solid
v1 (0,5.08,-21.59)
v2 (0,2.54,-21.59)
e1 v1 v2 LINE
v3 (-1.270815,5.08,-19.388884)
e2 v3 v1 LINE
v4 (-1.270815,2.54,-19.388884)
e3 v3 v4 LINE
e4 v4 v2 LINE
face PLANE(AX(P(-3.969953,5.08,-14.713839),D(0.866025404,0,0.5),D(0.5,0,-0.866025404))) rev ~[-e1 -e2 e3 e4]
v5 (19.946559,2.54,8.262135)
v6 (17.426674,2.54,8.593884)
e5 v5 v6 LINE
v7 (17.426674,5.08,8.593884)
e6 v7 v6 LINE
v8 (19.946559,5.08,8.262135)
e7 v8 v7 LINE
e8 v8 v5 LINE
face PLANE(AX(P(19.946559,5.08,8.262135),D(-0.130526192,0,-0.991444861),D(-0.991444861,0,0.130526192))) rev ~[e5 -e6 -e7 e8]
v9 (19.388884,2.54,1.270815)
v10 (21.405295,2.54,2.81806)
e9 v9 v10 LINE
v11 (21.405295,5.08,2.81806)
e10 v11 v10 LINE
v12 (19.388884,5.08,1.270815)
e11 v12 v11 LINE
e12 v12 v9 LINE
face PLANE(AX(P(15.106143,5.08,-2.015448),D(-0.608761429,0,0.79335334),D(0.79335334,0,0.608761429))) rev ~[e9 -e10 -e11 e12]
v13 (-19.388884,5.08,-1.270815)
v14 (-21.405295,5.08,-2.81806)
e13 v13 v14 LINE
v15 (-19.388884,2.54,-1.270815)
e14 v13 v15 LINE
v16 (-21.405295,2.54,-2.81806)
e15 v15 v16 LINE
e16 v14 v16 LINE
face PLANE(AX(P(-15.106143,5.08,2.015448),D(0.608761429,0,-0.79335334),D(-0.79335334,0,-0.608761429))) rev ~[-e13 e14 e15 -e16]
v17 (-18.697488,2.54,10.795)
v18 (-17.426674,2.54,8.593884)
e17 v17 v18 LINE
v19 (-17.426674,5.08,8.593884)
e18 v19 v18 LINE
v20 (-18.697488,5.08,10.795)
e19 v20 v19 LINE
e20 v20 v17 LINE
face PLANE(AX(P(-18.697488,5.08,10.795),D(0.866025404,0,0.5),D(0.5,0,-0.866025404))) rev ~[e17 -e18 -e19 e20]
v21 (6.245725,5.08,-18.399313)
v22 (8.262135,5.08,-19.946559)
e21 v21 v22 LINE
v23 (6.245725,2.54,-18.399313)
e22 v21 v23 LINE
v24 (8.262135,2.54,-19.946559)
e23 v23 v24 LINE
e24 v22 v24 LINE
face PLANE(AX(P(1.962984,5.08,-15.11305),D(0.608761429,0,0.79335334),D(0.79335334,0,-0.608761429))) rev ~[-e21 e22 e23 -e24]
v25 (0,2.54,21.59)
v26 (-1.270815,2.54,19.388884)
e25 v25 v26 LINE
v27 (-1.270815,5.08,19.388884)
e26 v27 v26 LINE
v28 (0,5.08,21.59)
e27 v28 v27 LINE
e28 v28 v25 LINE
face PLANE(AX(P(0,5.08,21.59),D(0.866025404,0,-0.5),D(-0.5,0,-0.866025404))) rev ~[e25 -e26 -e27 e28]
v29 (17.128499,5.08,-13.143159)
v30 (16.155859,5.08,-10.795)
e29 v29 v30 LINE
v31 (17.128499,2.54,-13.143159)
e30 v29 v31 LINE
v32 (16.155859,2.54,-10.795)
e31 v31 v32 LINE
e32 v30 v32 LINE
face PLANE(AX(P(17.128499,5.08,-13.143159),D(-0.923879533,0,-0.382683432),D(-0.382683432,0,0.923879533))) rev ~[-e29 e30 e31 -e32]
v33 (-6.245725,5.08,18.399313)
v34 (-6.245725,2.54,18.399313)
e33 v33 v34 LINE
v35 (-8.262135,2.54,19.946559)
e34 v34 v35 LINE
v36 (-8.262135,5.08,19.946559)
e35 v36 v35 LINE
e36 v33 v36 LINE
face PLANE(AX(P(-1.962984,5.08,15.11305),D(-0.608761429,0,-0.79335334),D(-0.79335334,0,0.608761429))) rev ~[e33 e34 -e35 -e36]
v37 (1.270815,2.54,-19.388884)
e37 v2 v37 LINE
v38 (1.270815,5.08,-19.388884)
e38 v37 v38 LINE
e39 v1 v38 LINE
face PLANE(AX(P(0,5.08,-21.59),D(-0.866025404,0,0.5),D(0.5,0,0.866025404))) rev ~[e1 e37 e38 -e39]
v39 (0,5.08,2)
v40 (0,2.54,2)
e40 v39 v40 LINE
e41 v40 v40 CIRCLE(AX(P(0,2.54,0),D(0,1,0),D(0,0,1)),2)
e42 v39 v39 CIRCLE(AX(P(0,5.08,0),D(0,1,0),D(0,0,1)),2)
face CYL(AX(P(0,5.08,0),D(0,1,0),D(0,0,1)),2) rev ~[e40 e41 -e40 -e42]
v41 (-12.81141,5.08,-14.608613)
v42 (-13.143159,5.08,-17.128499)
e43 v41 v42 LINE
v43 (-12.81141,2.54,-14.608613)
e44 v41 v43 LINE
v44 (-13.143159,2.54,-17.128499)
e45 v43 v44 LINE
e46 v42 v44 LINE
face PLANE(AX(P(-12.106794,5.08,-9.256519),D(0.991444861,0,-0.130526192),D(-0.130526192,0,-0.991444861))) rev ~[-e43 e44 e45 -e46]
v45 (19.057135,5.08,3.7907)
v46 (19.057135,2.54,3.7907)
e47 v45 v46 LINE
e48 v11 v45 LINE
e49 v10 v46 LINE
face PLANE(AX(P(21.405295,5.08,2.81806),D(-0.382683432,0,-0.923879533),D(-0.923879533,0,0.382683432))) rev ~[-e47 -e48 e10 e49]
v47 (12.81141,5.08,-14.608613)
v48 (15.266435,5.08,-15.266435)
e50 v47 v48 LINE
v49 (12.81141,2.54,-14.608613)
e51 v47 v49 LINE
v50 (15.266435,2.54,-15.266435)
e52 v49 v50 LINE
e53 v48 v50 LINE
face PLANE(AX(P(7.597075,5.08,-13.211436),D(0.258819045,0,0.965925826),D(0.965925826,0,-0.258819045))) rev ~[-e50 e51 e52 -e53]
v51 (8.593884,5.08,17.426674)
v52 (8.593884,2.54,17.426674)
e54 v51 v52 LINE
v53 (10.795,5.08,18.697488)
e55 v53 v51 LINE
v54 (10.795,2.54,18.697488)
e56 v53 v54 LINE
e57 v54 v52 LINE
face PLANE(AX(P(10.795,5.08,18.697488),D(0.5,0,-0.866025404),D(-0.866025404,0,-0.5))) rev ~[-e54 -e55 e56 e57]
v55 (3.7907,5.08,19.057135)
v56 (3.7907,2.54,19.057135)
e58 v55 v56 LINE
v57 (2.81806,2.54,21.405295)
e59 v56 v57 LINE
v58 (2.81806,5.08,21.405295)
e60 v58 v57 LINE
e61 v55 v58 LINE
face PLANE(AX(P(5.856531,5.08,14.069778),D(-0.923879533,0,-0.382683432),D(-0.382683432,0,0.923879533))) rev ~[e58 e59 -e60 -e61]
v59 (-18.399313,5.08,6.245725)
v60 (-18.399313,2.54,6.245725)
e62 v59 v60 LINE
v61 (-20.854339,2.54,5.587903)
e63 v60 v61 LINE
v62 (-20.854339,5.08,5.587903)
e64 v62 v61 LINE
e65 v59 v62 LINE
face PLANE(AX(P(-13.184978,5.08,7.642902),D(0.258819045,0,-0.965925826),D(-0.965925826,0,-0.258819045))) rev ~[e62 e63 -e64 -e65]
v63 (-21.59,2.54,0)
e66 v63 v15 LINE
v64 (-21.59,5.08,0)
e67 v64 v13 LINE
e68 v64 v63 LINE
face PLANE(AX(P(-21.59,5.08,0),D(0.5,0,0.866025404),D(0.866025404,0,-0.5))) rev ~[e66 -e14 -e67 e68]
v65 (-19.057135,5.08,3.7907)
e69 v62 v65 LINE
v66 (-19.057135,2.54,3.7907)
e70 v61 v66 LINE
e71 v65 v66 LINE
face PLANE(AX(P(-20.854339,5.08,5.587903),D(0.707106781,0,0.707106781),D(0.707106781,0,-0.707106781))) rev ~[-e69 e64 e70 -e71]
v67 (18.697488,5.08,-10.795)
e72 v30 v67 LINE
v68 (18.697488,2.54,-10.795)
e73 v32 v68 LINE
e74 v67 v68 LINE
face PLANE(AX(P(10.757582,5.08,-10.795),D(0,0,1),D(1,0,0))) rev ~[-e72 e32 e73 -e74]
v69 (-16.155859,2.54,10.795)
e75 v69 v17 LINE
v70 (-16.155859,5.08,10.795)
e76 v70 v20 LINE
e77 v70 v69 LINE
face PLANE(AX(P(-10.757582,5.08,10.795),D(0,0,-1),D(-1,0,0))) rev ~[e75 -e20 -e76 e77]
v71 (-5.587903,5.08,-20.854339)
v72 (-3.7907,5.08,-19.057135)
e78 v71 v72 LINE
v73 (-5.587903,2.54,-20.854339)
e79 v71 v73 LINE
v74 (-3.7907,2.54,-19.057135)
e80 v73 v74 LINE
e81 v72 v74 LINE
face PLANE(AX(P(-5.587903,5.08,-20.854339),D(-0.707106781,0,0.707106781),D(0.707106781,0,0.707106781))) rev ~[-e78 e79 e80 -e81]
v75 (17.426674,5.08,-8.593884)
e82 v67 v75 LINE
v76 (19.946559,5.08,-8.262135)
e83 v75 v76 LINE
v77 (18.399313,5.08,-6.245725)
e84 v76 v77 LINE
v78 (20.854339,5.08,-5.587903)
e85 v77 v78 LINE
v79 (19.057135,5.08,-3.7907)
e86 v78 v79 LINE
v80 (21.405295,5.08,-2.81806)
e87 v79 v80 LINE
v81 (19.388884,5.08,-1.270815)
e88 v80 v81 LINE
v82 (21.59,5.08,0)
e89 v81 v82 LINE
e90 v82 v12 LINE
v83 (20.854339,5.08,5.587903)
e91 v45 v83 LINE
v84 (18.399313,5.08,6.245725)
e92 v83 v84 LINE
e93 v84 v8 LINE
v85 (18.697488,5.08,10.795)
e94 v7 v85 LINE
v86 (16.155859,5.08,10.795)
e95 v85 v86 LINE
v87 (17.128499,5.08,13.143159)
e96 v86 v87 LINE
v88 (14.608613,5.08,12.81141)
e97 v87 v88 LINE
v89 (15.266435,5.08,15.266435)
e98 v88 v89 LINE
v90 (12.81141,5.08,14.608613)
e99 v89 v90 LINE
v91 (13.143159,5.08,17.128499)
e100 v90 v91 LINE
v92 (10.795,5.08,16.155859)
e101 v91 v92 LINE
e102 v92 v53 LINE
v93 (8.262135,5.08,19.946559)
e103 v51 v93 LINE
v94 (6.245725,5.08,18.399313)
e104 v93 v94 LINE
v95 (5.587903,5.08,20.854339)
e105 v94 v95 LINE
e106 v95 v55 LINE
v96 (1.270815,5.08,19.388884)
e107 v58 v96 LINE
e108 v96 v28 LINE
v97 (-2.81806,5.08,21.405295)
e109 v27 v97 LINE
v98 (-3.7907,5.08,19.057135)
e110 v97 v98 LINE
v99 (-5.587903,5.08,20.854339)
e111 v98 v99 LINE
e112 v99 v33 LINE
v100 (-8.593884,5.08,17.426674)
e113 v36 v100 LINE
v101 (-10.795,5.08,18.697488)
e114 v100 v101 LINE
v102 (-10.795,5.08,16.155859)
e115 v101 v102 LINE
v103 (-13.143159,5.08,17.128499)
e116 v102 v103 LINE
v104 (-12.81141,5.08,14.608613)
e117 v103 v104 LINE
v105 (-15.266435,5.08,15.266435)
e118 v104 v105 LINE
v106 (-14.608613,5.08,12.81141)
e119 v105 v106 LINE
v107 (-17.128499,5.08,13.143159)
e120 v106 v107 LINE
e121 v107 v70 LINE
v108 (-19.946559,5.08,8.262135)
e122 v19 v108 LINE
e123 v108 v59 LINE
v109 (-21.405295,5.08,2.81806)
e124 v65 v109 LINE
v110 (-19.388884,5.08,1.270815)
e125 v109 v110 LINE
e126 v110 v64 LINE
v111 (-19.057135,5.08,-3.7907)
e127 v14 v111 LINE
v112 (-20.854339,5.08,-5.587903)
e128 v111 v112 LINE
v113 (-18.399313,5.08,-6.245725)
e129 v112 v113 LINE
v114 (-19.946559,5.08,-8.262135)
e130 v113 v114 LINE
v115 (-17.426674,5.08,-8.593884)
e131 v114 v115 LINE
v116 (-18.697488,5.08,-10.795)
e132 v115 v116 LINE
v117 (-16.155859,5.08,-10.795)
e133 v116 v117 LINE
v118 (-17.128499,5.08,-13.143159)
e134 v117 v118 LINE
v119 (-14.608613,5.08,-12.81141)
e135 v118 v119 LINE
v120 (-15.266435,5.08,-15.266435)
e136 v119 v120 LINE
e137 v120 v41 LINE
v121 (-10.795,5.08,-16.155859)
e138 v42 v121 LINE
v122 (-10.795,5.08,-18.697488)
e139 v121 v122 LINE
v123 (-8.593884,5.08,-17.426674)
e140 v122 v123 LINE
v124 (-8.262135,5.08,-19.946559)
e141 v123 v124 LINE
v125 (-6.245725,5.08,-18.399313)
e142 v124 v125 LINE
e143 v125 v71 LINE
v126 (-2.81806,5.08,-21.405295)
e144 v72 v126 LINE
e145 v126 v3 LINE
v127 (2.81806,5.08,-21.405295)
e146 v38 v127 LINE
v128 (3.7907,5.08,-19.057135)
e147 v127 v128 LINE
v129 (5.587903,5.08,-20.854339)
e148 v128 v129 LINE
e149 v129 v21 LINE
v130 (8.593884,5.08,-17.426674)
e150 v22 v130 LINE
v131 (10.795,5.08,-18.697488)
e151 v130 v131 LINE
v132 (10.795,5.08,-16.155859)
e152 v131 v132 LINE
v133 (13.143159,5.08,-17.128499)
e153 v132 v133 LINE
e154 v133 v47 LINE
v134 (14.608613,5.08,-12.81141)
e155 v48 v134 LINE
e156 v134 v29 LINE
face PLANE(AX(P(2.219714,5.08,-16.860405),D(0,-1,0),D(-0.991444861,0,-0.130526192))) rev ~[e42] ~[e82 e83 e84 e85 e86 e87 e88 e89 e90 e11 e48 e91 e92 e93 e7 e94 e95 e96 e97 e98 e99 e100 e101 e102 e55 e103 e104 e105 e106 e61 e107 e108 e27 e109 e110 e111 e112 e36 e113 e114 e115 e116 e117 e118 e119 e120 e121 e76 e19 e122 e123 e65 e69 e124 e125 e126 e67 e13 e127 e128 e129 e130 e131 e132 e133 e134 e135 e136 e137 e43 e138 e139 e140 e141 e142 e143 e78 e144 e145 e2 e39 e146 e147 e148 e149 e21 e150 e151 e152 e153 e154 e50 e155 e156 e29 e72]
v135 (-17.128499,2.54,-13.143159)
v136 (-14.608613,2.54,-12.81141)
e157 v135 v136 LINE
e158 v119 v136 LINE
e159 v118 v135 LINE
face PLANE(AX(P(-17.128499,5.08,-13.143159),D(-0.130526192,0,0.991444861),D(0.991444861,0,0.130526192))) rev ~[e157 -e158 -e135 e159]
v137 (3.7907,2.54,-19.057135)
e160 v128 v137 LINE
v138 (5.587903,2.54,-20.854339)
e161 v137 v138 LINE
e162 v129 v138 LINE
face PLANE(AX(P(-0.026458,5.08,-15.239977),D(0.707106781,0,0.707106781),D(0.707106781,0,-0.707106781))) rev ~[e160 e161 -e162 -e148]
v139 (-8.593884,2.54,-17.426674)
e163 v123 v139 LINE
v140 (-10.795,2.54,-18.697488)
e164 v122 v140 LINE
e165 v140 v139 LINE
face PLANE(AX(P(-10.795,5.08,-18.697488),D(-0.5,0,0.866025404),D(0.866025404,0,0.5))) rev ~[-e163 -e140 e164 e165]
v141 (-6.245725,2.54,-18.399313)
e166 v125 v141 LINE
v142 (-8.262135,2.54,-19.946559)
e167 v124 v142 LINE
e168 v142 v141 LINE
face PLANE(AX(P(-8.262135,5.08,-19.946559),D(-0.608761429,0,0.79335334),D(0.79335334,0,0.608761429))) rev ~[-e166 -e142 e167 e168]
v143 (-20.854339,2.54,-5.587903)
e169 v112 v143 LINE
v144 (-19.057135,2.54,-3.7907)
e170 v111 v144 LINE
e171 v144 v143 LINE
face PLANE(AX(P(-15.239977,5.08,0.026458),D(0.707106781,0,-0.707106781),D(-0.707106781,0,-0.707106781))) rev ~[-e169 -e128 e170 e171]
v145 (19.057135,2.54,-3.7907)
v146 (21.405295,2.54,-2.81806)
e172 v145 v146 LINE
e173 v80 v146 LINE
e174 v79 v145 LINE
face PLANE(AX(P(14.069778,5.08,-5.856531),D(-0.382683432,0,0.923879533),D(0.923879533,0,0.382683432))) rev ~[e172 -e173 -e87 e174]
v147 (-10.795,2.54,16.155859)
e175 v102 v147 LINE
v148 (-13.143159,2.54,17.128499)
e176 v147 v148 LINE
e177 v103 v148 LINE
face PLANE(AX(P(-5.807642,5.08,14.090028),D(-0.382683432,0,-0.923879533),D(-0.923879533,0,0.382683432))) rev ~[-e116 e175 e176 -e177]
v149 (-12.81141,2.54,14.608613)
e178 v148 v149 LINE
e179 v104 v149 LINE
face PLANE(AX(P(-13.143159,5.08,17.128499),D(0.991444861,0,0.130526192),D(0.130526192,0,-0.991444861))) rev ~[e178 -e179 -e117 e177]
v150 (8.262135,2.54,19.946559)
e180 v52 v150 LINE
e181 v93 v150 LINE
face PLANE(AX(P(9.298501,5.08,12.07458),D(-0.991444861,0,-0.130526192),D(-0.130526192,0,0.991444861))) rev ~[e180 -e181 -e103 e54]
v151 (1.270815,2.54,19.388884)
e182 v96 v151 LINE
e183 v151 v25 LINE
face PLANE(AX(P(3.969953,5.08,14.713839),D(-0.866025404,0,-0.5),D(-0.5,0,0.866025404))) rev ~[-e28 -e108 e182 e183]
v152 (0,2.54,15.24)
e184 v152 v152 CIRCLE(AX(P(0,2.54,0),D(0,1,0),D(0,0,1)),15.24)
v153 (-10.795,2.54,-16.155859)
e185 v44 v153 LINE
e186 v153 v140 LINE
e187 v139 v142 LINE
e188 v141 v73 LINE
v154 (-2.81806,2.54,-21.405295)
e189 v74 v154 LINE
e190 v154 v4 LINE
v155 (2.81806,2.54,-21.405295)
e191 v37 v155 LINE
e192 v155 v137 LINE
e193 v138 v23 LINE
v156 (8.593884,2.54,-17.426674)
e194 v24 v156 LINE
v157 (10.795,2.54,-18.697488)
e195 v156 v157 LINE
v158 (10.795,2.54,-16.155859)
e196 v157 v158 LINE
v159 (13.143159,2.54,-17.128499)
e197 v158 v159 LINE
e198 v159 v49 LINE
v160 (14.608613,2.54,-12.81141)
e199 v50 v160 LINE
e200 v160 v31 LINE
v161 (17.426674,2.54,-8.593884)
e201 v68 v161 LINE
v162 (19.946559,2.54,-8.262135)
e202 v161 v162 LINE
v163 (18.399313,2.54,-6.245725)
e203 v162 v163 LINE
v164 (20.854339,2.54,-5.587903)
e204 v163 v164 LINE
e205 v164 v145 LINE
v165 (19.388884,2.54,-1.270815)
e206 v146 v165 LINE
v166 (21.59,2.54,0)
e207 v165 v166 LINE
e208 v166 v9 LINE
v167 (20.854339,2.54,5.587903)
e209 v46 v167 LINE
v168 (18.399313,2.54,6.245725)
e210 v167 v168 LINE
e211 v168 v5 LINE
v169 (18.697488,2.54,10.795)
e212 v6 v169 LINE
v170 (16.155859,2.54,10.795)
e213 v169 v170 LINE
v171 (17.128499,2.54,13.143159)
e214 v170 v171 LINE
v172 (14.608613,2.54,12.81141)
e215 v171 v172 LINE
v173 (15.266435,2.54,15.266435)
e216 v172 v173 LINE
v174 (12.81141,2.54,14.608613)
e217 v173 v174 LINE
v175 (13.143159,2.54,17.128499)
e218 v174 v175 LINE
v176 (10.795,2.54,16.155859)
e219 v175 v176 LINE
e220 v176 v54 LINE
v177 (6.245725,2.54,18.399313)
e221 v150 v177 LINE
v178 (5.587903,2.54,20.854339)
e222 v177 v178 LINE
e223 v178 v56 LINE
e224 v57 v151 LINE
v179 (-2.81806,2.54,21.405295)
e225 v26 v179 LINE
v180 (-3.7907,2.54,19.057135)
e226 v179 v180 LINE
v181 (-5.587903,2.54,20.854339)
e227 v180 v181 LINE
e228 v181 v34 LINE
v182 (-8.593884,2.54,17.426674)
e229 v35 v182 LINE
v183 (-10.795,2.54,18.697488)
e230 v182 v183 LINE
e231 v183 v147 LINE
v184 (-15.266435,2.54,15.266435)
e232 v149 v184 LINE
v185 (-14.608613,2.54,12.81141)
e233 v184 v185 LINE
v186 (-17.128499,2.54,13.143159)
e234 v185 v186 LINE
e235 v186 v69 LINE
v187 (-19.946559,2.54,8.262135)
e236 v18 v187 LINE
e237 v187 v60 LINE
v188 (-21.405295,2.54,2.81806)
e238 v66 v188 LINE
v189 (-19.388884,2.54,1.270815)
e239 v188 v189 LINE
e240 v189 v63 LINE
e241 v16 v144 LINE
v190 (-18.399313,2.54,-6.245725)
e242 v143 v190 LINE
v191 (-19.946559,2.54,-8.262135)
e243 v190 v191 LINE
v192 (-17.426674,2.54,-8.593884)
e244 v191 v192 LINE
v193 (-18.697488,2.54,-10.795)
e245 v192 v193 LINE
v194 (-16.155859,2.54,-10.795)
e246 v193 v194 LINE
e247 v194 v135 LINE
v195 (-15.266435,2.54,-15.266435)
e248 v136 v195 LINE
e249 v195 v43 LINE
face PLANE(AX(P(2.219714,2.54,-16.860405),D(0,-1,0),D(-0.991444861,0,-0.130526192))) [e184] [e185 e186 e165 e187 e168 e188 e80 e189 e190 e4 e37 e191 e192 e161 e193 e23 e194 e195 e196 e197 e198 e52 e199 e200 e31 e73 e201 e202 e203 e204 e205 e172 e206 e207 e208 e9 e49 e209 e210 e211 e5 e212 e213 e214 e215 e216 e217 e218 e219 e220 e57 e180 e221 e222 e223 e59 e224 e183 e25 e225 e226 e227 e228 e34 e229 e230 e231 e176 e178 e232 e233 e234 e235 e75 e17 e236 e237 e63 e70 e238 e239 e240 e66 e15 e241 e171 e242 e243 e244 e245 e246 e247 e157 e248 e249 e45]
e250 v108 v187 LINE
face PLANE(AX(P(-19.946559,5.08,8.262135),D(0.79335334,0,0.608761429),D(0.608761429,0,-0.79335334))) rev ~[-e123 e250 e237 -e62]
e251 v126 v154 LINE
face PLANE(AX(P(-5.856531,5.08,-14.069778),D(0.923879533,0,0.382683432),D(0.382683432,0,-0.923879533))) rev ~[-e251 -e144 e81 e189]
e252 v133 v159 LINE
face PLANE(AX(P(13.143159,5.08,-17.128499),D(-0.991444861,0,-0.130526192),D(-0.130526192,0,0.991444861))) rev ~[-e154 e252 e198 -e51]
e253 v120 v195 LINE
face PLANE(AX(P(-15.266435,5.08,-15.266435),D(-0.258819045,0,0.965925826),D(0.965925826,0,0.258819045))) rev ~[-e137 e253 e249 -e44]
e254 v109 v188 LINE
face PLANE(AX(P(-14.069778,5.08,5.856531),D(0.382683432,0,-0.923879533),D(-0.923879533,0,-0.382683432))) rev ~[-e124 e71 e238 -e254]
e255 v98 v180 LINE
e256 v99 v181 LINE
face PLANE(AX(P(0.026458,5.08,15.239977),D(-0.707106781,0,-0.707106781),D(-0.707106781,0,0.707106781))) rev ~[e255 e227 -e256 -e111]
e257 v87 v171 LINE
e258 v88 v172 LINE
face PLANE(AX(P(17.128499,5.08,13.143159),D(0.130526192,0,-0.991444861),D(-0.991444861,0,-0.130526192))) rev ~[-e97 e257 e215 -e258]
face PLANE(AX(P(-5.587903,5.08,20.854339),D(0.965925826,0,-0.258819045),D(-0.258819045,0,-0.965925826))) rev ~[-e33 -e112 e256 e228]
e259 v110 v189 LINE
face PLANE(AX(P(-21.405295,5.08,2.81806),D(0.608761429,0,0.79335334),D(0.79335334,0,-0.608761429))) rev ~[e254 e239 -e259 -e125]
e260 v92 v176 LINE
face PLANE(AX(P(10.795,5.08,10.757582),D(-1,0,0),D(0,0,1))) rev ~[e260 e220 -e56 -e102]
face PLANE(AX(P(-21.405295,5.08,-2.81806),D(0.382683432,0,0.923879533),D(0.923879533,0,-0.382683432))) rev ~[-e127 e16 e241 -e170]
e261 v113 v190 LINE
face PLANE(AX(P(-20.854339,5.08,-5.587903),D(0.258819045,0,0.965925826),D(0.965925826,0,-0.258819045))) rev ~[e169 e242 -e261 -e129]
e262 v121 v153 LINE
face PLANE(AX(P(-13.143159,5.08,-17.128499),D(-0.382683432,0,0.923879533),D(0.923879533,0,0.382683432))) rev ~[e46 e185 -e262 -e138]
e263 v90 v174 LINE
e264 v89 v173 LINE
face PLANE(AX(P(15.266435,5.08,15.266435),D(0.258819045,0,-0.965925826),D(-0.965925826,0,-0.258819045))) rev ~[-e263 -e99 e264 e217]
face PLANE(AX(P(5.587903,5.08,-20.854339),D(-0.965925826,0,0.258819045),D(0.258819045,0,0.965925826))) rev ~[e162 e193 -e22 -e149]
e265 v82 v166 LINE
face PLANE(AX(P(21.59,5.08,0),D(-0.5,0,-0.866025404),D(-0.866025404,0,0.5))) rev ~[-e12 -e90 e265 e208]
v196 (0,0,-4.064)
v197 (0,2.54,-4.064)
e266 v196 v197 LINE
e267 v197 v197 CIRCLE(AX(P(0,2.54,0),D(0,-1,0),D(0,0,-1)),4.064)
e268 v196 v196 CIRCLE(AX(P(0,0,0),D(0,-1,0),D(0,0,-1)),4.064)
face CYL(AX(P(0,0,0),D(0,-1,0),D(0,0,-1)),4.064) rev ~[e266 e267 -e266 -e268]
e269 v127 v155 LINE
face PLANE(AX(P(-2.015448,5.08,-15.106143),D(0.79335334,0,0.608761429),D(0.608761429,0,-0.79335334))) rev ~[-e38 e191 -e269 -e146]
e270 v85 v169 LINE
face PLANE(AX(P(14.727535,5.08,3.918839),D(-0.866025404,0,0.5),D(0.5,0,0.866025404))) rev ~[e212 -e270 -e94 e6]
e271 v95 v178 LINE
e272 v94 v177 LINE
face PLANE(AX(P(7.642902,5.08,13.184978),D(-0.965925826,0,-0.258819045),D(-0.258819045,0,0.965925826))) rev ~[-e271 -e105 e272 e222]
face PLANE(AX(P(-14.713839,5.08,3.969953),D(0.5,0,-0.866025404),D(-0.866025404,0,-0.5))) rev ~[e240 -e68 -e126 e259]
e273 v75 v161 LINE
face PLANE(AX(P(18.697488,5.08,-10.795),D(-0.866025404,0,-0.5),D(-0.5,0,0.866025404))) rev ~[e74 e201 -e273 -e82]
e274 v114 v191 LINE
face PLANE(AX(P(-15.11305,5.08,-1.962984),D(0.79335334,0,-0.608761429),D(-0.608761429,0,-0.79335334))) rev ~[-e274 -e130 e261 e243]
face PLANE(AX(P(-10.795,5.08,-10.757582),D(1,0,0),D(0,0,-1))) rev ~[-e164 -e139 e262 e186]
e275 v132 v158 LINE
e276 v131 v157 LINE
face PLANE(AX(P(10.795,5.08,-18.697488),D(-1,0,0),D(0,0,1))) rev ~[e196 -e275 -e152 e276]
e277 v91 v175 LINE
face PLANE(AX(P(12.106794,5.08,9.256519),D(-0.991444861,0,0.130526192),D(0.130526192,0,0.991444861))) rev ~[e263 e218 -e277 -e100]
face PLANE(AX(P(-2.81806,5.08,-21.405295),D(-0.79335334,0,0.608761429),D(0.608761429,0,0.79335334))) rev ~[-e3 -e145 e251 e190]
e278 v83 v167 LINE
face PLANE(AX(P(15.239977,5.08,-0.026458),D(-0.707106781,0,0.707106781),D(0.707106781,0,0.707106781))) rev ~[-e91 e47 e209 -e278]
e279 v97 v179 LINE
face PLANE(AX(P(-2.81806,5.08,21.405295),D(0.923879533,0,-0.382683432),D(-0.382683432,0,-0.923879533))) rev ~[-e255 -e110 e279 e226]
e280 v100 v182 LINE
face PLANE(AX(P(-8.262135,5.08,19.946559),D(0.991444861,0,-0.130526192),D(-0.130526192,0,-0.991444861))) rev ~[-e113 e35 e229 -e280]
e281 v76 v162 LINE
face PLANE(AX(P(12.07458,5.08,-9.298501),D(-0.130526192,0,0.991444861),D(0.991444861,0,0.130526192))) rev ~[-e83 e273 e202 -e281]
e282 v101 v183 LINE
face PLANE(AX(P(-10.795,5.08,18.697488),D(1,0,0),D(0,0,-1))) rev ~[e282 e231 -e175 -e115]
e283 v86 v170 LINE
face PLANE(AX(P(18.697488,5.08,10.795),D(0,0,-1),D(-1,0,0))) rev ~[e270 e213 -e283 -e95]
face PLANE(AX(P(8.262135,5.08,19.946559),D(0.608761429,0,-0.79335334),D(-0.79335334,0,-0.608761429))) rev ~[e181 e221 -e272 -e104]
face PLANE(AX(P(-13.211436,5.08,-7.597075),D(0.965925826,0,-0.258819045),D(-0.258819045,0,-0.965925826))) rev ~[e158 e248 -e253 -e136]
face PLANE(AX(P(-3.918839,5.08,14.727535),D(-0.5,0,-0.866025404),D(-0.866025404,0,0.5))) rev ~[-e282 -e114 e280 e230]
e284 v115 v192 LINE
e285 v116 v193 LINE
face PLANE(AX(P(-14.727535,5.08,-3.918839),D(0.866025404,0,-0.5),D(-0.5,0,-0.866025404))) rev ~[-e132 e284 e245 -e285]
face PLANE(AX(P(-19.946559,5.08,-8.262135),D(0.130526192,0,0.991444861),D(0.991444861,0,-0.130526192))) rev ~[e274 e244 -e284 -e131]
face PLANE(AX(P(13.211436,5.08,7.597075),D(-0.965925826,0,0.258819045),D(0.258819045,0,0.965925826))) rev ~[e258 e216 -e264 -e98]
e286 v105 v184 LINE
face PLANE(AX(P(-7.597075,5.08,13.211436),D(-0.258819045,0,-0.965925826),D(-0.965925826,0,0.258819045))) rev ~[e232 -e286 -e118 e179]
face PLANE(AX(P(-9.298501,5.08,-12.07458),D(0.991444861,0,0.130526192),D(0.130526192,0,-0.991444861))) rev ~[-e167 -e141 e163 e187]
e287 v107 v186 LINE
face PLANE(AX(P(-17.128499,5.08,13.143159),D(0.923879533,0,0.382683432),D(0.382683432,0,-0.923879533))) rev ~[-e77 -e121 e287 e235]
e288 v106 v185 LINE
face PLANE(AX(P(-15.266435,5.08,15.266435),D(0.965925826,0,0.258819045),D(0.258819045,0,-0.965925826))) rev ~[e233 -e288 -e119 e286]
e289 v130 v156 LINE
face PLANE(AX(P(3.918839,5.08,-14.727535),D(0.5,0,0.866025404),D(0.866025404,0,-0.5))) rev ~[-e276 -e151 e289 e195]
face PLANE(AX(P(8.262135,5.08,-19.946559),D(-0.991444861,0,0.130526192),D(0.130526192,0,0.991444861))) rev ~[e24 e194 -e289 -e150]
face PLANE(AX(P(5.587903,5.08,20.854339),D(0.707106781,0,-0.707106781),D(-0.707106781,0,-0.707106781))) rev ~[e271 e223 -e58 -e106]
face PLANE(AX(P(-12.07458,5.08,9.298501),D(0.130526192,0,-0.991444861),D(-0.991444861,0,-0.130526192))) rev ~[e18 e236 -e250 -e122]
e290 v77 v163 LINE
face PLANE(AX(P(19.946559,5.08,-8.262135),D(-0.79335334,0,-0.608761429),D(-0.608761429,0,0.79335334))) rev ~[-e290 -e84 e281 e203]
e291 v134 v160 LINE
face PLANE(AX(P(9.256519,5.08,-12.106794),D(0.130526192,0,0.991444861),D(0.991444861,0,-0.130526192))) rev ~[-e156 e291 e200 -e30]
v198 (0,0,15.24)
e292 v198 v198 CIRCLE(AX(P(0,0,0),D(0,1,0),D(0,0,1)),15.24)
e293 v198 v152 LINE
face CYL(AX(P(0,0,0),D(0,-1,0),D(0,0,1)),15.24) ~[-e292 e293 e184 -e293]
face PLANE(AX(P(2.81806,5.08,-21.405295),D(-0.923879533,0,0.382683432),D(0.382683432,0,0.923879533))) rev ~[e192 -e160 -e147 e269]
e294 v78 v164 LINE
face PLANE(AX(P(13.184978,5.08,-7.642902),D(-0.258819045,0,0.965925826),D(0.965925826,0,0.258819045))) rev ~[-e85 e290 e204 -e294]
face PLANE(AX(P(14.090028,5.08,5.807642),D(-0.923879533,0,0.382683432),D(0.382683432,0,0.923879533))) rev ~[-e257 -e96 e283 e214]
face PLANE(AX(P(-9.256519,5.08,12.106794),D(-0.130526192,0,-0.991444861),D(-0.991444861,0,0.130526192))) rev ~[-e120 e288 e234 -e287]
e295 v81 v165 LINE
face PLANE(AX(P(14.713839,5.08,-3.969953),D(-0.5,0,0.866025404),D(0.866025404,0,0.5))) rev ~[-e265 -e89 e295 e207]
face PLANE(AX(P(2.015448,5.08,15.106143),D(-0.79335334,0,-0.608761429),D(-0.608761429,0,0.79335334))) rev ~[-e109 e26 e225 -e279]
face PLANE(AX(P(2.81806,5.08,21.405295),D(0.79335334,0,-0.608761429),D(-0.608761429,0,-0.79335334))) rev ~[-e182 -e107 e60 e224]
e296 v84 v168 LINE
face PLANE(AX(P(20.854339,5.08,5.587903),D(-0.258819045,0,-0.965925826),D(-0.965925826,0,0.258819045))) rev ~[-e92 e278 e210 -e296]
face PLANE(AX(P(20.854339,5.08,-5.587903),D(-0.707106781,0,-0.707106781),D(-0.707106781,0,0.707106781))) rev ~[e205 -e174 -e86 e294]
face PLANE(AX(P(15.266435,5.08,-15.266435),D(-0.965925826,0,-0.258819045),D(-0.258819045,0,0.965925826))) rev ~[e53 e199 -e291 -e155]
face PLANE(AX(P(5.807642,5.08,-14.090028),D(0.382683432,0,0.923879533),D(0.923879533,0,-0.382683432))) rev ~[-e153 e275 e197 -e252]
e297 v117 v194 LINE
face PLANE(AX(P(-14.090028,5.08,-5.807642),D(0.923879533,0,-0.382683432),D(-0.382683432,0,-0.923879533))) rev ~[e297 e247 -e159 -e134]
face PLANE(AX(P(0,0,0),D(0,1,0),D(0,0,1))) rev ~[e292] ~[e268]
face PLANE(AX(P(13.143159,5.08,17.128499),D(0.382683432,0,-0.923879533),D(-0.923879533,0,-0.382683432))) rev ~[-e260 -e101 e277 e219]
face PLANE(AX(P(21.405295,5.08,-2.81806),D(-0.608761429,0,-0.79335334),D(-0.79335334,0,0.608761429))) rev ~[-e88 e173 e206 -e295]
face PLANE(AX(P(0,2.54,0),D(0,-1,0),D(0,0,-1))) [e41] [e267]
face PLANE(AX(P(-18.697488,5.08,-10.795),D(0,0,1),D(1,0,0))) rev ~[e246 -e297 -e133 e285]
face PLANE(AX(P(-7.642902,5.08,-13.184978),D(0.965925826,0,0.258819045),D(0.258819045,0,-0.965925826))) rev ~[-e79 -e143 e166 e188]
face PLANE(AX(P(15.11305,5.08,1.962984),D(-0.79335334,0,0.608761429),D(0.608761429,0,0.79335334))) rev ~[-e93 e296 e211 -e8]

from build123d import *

# Parameters (mm, degrees)
SKETCH1_R           = 15.24
BOSS_EXTRUDE1_DEPTH = 5.08
BOSS_EXTRUDE3_DEPTH = 2.54
CIRPATTERN1_COUNT   = 48
SKETCH6_R           = 4.064
CUT_EXTRUDE1_DEPTH  = 2.54
SKETCH7_R           = 2.000000064
CUT_EXTRUDE2_DEPTH  = 2.54


with BuildPart() as part:
    # Sketch1 → Boss-Extrude1 (new body)
    with BuildSketch(Plane(origin=(0, 0, 0), x_dir=(1, 0, 0), z_dir=(0, 1, 0))):
        Circle(SKETCH1_R)
    extrude(amount=BOSS_EXTRUDE1_DEPTH)

    # Sketch3 → Boss-Extrude3 (add)
    with BuildSketch(Plane(origin=(0, 5.08, 0), x_dir=(1, 0, 0), z_dir=(0, 1, 0))):
        Polygon((0, 21.59), (3.969953129, 14.713839477), (-3.969953129, 14.713839477), align=None)
    boss_extrude3 = extrude(amount=-BOSS_EXTRUDE3_DEPTH)

    # CirPattern1: Boss-Extrude3 ×48 about axis
    cirpattern1_axis = Axis((0, -0.127, 0), (0, 1, 0))
    for i in range(1, CIRPATTERN1_COUNT):
        add(boss_extrude3.rotate(cirpattern1_axis, i * 360 / CIRPATTERN1_COUNT))

    # Sketch6 → Cut-Extrude1 (cut)
    with BuildSketch(Plane.XZ):
        Circle(SKETCH6_R)
    extrude(amount=-CUT_EXTRUDE1_DEPTH, mode=Mode.SUBTRACT)

    # Sketch7 → Cut-Extrude2 (cut)
    with BuildSketch(Plane(origin=(0, 5.08, 0), x_dir=(1, 0, 0), z_dir=(0, 1, 0))):
        Circle(SKETCH7_R)
    extrude(amount=-CUT_EXTRUDE2_DEPTH, mode=Mode.SUBTRACT)


solid = part.part
